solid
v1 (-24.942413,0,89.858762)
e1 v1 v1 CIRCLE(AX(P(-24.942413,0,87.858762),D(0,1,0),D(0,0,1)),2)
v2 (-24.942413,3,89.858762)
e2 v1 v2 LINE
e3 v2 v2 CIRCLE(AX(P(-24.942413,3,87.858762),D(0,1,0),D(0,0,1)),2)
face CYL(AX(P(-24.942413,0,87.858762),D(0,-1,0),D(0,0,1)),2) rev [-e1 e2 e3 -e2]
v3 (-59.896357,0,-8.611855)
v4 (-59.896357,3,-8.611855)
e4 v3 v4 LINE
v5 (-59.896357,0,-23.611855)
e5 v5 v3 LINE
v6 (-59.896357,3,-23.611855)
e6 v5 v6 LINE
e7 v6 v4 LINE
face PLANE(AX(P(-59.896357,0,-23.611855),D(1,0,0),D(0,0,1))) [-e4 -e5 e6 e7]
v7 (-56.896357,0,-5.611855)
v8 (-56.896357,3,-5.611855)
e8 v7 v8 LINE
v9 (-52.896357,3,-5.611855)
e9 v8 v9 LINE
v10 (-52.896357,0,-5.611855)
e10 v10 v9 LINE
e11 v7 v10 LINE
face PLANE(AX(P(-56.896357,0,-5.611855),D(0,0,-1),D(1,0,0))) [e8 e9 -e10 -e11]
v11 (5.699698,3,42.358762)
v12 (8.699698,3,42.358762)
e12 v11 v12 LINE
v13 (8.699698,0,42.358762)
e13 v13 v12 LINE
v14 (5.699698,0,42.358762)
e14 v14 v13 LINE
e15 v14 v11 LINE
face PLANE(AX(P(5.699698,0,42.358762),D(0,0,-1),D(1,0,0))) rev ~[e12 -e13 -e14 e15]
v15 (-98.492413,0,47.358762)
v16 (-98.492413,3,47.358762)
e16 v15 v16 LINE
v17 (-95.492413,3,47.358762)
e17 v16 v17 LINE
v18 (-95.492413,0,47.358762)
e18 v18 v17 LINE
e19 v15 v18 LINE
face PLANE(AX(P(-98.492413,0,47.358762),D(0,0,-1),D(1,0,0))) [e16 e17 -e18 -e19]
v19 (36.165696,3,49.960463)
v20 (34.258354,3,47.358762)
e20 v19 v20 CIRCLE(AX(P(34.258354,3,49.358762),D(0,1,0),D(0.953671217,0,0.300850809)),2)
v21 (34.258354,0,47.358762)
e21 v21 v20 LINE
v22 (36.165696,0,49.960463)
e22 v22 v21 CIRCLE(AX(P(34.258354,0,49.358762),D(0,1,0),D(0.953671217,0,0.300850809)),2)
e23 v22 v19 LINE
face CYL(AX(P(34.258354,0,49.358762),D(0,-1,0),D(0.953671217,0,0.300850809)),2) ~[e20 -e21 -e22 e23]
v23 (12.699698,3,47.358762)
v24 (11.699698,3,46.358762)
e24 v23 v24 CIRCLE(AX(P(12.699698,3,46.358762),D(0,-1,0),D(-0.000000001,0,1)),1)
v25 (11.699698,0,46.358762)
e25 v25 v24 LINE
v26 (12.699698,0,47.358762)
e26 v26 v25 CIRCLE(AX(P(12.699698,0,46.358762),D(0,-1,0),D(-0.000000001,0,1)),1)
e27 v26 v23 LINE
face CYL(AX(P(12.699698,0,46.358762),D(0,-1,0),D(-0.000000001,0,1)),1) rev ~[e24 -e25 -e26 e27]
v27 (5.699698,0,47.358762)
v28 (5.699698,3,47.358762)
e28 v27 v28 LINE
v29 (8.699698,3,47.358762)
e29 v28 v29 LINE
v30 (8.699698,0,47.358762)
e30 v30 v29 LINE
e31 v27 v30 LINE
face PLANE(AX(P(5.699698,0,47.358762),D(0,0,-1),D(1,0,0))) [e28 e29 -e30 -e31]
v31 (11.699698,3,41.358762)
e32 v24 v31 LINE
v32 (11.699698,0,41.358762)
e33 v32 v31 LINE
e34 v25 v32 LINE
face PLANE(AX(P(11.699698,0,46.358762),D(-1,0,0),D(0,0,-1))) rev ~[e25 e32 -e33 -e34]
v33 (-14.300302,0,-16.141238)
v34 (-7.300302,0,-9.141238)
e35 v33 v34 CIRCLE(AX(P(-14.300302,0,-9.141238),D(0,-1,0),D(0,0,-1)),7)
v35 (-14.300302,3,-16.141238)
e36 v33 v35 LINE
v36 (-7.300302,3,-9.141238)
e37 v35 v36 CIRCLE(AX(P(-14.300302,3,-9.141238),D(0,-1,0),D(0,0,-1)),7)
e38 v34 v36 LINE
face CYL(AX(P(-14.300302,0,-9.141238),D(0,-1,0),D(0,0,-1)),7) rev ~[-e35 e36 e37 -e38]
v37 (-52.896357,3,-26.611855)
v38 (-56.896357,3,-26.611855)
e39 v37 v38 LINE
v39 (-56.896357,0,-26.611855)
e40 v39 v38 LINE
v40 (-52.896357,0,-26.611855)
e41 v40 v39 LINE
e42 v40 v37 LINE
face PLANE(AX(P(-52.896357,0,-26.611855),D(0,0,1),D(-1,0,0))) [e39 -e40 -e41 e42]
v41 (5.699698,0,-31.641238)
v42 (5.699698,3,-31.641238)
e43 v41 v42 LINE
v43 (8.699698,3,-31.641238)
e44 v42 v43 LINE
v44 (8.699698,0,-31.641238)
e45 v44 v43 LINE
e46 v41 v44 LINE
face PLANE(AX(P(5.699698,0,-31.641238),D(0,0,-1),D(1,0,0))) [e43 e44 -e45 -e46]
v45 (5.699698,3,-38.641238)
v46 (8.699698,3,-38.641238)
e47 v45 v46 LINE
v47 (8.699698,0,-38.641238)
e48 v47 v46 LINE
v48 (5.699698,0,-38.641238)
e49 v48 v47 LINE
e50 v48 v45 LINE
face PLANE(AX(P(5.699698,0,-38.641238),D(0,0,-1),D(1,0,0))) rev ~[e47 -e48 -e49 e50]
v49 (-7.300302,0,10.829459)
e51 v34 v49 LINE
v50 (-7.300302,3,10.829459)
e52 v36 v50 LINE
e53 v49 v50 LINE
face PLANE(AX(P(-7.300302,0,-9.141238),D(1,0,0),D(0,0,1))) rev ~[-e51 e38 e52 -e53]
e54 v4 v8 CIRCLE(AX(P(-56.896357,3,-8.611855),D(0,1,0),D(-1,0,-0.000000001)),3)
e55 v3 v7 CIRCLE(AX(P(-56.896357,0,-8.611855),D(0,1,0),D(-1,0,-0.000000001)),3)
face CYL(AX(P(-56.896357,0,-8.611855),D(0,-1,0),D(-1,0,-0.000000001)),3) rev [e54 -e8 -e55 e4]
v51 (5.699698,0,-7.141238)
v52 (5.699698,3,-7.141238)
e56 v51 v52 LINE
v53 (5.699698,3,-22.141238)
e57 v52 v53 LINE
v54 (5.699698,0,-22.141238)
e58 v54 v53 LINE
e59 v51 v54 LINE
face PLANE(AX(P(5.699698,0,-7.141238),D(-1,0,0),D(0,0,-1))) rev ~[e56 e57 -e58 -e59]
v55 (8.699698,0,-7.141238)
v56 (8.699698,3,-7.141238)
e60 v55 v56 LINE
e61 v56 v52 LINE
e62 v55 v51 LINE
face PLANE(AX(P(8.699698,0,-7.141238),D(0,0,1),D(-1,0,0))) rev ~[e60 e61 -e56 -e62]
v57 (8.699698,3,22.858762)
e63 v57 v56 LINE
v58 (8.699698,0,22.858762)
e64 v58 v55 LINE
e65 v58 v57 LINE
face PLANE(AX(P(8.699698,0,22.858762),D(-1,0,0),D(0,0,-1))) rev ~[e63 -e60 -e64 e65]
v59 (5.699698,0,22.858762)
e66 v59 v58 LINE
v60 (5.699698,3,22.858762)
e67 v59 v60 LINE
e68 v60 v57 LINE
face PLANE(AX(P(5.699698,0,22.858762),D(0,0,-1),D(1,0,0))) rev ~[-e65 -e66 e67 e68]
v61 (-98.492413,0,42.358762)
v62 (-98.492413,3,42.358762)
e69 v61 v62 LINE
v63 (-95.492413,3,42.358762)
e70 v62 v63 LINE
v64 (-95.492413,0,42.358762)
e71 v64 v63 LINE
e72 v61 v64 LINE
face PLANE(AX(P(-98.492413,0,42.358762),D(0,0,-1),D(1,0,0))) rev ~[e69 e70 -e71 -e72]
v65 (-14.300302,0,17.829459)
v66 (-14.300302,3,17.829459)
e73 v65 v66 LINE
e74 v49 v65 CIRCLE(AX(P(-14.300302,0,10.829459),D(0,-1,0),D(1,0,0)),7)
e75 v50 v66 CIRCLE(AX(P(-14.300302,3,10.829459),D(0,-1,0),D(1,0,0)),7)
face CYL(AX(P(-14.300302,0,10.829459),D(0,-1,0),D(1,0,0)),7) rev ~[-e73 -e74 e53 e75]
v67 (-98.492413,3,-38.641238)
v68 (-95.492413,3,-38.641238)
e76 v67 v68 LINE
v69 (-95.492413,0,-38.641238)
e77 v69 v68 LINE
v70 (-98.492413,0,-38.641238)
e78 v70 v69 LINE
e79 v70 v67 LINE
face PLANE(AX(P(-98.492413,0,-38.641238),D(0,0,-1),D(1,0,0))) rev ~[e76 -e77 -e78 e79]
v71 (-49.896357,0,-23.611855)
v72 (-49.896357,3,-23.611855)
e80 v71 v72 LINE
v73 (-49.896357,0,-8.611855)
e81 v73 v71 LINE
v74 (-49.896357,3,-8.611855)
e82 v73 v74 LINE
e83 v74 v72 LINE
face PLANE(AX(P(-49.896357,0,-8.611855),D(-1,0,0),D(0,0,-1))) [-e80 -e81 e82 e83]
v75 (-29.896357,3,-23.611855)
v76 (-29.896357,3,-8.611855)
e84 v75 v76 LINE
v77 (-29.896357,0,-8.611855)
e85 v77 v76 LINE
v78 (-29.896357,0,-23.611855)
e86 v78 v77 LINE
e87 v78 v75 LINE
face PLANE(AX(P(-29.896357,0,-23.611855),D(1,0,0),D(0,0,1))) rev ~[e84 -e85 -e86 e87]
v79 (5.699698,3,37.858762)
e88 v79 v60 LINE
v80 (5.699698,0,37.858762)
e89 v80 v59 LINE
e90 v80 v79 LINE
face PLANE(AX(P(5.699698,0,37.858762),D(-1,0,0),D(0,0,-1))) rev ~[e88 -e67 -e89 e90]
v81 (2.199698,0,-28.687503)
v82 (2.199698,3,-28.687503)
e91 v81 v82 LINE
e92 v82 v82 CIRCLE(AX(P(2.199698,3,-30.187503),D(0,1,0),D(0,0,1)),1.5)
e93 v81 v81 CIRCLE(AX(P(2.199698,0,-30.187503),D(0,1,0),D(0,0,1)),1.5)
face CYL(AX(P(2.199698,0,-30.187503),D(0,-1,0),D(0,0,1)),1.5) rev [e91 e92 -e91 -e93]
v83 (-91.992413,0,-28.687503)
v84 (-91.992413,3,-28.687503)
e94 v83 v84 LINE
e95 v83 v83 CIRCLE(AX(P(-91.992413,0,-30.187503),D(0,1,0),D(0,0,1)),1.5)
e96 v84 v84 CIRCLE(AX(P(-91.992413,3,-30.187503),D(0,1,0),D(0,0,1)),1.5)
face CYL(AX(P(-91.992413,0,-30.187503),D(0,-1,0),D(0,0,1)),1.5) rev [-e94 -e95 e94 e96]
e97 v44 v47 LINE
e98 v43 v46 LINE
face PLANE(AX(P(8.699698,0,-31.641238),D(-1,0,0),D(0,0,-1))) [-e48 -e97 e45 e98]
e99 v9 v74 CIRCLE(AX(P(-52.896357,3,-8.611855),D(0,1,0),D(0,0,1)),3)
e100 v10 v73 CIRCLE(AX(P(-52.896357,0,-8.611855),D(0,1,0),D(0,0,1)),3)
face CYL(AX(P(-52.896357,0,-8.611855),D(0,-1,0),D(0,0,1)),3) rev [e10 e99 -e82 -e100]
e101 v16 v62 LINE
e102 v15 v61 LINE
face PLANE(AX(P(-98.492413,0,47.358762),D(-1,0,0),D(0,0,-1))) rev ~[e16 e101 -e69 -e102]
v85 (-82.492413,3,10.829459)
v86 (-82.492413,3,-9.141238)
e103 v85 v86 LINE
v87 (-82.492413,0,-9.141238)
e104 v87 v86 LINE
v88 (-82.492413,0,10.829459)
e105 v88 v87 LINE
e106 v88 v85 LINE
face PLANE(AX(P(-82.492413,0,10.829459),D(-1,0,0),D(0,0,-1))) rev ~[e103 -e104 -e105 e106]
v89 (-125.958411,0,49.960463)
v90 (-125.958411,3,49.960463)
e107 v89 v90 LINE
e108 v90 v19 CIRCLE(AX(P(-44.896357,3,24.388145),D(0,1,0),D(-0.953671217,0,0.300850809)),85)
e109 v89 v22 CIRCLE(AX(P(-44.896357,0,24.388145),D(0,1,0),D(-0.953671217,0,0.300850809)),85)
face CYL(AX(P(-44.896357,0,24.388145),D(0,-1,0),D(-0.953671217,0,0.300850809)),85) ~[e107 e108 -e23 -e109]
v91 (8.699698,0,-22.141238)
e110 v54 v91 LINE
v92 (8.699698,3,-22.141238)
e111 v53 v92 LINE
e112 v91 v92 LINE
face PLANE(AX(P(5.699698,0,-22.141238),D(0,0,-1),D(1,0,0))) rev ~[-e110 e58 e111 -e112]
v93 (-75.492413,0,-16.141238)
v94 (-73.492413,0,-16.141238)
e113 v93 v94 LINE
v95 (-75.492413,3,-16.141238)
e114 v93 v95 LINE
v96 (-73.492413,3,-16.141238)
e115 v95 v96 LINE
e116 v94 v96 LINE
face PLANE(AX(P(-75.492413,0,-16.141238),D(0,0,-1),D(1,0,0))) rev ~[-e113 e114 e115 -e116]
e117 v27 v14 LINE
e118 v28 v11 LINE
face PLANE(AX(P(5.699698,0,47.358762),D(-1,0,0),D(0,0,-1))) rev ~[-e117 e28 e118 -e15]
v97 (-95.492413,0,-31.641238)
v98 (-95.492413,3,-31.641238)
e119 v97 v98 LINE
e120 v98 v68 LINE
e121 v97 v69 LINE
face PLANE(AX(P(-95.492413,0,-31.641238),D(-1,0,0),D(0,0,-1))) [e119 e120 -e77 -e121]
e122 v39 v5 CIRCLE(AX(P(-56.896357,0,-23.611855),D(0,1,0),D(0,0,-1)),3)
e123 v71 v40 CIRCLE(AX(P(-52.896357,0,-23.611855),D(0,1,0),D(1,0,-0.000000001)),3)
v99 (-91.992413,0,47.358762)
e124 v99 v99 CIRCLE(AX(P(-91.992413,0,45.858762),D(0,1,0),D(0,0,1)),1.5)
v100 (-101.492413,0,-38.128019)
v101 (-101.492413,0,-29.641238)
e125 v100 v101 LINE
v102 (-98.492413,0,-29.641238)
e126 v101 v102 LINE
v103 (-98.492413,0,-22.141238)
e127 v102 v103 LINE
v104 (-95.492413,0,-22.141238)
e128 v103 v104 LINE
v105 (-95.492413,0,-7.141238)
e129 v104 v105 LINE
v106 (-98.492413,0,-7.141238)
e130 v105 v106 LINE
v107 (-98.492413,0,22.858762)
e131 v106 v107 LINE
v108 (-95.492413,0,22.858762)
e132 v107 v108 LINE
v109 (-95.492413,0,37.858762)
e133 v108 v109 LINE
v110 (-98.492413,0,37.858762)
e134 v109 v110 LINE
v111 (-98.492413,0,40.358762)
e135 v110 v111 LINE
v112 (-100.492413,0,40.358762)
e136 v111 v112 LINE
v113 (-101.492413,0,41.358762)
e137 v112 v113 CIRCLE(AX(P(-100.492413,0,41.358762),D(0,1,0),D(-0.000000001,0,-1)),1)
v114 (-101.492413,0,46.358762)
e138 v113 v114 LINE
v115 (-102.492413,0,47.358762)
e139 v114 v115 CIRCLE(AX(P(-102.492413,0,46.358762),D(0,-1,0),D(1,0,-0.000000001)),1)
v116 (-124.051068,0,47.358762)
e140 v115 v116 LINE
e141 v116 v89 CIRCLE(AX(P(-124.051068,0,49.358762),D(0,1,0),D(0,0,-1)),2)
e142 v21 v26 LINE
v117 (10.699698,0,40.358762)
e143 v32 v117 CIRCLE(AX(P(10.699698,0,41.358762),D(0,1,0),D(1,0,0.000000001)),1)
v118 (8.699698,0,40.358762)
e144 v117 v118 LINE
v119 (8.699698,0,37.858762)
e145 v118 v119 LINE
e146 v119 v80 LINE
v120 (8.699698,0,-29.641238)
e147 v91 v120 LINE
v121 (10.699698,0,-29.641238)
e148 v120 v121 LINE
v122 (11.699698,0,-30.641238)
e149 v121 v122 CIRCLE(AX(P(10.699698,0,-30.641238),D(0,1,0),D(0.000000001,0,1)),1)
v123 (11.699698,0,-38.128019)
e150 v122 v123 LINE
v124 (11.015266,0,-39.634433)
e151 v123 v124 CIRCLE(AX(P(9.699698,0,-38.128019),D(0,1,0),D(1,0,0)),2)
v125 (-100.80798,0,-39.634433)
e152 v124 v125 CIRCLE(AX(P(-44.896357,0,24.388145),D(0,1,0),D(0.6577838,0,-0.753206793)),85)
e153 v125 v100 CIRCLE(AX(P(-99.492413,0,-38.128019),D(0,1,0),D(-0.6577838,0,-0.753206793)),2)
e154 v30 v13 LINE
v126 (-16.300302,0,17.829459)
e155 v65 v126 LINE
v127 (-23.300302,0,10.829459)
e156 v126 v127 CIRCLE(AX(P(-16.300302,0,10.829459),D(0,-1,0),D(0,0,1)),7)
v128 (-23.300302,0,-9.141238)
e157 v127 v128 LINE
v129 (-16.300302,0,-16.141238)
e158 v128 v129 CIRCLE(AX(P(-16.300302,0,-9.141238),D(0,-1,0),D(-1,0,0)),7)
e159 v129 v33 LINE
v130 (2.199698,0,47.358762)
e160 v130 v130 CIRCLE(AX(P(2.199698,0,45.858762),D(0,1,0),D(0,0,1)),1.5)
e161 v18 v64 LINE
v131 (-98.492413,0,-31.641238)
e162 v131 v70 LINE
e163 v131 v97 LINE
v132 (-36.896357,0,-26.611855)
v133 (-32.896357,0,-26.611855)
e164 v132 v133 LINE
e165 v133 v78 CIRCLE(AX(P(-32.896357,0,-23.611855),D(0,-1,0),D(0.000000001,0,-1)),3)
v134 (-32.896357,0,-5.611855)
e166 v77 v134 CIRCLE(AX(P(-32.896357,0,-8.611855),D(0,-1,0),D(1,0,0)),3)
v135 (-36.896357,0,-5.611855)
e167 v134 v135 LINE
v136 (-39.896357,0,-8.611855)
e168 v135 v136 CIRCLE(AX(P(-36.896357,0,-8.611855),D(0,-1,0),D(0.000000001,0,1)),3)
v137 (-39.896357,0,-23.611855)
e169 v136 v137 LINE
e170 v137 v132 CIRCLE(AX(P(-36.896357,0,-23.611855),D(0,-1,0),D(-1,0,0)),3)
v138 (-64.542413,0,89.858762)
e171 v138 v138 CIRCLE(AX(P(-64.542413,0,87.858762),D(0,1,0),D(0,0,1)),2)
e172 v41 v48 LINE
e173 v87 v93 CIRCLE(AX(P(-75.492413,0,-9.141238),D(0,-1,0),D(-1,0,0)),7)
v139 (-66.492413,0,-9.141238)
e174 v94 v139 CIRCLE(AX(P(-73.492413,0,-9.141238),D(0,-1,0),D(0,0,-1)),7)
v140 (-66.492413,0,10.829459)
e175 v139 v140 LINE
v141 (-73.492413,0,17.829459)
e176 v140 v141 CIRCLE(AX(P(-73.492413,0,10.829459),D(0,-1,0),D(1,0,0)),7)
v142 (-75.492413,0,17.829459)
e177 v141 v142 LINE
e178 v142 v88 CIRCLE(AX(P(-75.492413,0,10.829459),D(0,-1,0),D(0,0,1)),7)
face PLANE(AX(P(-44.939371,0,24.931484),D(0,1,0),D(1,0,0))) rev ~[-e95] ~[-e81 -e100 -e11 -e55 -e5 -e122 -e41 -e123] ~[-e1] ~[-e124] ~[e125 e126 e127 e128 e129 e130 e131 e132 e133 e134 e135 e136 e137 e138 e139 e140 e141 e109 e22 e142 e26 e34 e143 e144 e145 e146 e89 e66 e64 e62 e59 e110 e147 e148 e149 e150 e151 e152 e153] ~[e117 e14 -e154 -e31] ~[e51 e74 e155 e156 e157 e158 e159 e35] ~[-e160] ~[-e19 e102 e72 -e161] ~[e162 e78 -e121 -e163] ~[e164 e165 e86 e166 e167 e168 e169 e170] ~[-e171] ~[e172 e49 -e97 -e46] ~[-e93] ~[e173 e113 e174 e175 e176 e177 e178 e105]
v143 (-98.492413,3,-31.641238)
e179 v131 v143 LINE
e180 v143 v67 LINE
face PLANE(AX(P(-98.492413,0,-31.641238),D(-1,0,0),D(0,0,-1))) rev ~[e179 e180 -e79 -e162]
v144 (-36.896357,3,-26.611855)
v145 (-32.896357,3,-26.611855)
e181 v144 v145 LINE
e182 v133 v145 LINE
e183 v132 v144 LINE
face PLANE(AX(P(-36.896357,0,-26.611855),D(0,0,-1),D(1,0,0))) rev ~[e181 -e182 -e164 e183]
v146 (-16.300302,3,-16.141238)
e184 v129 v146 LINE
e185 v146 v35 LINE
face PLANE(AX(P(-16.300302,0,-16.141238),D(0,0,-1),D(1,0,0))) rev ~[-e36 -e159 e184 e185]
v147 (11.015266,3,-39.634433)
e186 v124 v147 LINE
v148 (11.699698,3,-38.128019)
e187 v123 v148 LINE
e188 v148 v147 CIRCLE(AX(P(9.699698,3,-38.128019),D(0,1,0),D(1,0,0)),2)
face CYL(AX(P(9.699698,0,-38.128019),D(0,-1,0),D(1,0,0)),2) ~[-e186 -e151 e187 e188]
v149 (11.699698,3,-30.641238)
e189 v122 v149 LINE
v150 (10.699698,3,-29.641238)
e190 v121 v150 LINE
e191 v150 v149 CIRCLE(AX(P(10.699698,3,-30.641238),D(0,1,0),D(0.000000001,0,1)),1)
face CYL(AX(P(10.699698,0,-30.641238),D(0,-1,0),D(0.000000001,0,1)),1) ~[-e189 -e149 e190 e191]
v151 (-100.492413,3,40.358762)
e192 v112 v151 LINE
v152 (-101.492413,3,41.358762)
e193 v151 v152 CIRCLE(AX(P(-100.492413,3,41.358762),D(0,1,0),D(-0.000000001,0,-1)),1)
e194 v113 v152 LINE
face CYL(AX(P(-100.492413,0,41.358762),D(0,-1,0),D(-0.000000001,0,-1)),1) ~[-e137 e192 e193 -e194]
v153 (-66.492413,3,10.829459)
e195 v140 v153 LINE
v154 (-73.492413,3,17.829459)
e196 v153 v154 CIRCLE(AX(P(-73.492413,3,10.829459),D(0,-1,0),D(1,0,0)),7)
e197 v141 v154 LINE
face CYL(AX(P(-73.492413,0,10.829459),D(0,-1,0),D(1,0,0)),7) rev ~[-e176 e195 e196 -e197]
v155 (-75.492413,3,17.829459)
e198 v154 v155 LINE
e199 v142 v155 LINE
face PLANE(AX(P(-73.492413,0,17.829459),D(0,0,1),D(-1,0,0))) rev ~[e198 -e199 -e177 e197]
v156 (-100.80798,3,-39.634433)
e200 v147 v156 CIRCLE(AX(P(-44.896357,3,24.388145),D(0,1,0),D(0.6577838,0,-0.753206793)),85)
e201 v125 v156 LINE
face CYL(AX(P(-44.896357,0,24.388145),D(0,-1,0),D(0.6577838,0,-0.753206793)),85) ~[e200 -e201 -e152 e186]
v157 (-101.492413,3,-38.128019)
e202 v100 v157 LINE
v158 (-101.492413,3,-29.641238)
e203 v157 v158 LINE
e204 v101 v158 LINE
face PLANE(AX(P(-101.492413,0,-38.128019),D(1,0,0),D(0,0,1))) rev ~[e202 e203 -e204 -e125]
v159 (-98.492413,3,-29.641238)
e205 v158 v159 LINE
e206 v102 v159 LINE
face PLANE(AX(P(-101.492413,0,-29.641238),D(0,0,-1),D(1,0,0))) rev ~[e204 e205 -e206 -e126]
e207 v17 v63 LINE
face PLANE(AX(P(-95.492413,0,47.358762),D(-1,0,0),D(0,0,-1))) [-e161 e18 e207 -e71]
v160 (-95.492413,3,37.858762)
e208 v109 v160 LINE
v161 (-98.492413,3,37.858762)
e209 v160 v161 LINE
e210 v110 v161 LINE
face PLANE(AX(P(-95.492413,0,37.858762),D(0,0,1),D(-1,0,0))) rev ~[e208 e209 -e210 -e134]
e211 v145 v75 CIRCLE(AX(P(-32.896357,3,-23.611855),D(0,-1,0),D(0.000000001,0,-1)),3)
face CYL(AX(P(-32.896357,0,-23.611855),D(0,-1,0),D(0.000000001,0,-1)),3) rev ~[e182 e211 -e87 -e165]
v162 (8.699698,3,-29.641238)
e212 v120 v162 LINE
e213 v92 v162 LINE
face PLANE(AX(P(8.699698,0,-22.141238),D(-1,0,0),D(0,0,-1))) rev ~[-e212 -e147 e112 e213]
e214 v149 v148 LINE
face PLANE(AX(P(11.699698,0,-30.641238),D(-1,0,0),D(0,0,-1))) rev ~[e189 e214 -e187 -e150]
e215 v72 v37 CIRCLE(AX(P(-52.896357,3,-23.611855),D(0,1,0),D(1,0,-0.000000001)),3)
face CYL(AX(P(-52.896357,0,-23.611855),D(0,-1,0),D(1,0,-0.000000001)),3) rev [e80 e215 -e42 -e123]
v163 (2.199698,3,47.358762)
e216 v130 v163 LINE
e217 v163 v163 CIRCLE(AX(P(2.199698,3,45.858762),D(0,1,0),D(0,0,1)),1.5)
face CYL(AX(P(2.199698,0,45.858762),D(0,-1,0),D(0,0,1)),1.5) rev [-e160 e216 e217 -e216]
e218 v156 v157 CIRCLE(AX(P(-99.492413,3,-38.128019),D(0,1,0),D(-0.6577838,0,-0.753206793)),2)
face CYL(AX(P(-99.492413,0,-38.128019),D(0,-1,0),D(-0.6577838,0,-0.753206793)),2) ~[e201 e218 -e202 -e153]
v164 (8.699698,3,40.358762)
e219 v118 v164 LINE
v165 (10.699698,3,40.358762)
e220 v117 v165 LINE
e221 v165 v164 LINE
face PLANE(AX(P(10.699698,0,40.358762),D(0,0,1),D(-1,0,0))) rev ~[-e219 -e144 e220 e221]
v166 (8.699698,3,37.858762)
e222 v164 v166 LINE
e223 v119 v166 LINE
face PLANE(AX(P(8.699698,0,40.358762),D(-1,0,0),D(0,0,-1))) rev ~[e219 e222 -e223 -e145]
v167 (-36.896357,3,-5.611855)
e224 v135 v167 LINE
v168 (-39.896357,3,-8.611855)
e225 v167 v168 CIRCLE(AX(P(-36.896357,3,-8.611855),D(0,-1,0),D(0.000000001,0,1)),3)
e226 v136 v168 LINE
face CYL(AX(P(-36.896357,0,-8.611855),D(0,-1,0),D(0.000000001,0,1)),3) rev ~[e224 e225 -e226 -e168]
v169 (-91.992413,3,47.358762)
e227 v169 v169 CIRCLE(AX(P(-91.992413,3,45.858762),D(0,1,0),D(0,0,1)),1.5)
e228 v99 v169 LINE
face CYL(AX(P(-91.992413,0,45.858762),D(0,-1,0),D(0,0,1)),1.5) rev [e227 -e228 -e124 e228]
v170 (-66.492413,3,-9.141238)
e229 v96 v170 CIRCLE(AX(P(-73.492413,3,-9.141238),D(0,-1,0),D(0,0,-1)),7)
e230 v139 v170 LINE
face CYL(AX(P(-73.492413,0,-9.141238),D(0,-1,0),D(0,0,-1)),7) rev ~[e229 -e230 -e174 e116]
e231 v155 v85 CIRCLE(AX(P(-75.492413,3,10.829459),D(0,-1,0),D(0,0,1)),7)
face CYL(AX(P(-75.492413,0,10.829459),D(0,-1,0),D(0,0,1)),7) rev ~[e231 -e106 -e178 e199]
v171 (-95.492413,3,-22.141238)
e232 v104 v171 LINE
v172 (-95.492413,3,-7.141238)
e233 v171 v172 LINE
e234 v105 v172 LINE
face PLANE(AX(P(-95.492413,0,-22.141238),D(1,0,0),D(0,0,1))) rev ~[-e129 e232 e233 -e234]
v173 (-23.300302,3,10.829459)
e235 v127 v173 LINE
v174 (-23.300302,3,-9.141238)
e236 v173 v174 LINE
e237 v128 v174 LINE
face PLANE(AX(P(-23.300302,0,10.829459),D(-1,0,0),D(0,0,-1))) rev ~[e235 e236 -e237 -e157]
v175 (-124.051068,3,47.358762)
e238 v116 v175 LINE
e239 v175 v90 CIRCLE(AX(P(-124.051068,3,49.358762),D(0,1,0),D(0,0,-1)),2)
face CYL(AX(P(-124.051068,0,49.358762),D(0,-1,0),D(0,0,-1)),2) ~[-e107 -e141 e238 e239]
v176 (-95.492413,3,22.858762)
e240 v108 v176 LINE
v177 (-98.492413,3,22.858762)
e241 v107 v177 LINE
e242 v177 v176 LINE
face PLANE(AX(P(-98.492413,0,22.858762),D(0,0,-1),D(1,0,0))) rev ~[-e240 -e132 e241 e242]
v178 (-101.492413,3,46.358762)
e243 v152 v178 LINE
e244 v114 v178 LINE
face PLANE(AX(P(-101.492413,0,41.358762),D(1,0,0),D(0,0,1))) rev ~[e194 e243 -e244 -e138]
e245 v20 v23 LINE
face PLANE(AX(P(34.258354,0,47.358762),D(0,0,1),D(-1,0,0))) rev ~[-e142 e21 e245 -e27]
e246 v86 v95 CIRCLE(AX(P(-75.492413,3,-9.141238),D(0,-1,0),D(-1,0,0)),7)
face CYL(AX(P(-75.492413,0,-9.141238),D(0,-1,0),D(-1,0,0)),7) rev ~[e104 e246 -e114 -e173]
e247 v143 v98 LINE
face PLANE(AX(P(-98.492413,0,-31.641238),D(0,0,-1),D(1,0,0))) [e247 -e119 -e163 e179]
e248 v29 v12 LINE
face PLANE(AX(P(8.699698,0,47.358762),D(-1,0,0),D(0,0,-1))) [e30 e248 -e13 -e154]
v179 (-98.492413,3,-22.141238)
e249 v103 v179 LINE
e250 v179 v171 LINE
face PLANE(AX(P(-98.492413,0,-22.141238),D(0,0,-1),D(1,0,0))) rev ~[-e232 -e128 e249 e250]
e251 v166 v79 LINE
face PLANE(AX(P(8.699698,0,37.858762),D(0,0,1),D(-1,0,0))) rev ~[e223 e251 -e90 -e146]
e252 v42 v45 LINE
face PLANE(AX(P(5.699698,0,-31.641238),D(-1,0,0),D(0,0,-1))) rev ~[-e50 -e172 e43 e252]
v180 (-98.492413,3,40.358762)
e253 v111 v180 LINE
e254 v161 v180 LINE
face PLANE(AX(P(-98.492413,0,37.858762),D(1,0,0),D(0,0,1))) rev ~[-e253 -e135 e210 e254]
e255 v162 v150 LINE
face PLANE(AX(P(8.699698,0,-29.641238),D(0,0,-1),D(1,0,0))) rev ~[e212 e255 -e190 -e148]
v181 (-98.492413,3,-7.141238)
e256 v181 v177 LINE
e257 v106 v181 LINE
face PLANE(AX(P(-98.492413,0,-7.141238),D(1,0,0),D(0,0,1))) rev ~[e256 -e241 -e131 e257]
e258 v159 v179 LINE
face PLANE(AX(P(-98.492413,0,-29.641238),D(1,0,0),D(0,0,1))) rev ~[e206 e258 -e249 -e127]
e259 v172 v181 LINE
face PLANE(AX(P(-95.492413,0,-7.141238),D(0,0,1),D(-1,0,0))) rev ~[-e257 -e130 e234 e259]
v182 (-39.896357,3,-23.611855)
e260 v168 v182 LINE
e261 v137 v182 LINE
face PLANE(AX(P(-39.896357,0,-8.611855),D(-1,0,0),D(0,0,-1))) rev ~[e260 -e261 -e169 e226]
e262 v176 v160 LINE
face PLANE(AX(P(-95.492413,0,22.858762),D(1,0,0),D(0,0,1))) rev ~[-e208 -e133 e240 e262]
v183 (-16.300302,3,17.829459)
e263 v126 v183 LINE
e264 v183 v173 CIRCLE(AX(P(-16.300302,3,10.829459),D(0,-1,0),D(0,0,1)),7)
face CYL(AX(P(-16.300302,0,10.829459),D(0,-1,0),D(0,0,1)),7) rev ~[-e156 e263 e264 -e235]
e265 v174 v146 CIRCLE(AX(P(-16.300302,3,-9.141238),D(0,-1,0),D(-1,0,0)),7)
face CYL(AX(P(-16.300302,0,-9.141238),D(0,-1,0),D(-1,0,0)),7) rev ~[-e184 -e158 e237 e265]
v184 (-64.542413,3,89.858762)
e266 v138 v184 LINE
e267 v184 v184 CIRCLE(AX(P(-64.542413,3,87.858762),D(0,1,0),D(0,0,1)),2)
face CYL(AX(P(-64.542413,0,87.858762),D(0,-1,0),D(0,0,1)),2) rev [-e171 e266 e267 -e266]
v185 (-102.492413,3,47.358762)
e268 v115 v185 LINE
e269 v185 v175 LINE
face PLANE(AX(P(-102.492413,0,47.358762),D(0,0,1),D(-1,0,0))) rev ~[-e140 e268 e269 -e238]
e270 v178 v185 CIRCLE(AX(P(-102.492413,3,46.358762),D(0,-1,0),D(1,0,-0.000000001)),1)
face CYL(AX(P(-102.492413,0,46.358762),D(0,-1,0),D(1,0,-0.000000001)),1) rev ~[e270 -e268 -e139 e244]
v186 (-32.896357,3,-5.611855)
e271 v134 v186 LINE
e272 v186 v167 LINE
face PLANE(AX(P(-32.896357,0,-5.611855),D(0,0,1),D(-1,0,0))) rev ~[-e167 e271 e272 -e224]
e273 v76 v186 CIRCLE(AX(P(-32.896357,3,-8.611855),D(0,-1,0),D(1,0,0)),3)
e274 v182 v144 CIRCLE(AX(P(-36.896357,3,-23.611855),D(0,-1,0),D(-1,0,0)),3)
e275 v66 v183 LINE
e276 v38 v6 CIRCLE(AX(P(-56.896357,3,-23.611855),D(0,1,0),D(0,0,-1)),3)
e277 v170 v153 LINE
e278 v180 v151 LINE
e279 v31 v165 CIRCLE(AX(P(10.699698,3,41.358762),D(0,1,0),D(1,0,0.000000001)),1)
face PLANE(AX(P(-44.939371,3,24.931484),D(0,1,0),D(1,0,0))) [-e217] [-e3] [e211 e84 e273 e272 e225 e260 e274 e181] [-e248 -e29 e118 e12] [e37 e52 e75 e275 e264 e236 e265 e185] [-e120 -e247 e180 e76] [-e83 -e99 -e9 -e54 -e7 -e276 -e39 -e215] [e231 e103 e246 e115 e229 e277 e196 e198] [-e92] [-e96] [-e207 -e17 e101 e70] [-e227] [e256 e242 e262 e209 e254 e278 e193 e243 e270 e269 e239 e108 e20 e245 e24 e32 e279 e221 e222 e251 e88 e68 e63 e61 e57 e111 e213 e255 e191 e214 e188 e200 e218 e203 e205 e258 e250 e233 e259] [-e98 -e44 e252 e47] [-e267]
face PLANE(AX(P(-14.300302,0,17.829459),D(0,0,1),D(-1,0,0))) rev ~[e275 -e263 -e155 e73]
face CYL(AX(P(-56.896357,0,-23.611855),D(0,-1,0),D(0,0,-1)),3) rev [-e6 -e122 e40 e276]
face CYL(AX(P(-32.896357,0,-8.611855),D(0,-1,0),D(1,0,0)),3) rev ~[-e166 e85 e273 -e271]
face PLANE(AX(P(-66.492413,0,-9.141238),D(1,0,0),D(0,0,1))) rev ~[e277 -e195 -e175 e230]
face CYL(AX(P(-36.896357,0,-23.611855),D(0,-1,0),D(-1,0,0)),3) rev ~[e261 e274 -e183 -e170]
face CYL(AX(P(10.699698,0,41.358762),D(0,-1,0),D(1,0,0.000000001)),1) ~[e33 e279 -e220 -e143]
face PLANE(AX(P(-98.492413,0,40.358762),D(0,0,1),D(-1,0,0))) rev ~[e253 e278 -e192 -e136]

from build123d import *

# Parameters (mm, degrees)
SKETCH1_R           = 1.5
SKETCH1_R_2         = 2
SKETCH1_W           = 3
SKETCH1_H           = 5
SKETCH1_H_2         = 7
BOSS_EXTRUDE1_DEPTH = 3


with BuildPart() as part:
    # Sketch1 → Boss-Extrude1 (new body)
    with BuildSketch(Plane(origin=(0, 0, 0), x_dir=(1, 0, 0), z_dir=(0, 1, 0))):
        with BuildLine():
            Line((11.699698215, 30.641238244), (11.699698215, 38.128019164))
            ThreePointArc((11.699698215, 38.128019164), (11.520568227, 38.955323461), (11.015265815, 39.634432749))
            ThreePointArc((11.015265815, 39.634432749), (-44.896357171, 60.611855364), (-100.807980157, 39.634432749))
            ThreePointArc((-100.807980157, 39.634432749), (-101.313282569, 38.955323461), (-101.492412558, 38.128019164))
            Line((-101.492412558, 38.128019164), (-101.492412558, 29.641238244))
            Line((-101.492412558, 29.641238244), (-98.492412558, 29.641238244))
            Line((-98.492412558, 29.641238244), (-98.492412558, 22.141238244))
            Line((-98.492412558, 22.141238244), (-95.492412558, 22.141238244))
            Line((-95.492412558, 22.141238244), (-95.492412558, 7.141238244))
            Line((-95.492412558, 7.141238244), (-98.492412558, 7.141238244))
            Line((-98.492412558, 7.141238244), (-98.492412558, -22.858761756))
            Line((-98.492412558, -22.858761756), (-95.492412558, -22.858761756))
            Line((-95.492412558, -22.858761756), (-95.492412558, -37.858761756))
            Line((-95.492412558, -37.858761756), (-98.492412558, -37.858761756))
            Line((-98.492412558, -37.858761756), (-98.492412558, -40.358761756))
            Line((-98.492412558, -40.358761756), (-100.492412558, -40.358761756))
            ThreePointArc((-100.492412558, -40.358761756), (-101.199519339, -40.651654975), (-101.492412558, -41.358761756))
            Line((-101.492412558, -41.358761756), (-101.492412558, -46.358761756))
            ThreePointArc((-101.492412558, -46.358761756), (-101.785305776, -47.065868537), (-102.492412558, -47.358761756))
            Line((-102.492412558, -47.358761756), (-124.051068216, -47.358761756))
            ThreePointArc((-124.051068216, -47.358761756), (-125.664047329, -48.176265083), (-125.958410651, -49.960463374))
            ThreePointArc((-125.958410651, -49.960463374), (-44.896357171, -109.388144636), (36.165696309, -49.960463373))
            ThreePointArc((36.165696309, -49.960463373), (35.871332987, -48.176265083), (34.258353874, -47.358761756))
            Line((34.258353874, -47.358761756), (12.699698215, -47.358761756))
            ThreePointArc((12.699698215, -47.358761756), (11.992591434, -47.065868537), (11.699698215, -46.358761756))
            Line((11.699698215, -46.358761756), (11.699698215, -41.358761756))
            ThreePointArc((11.699698215, -41.358761756), (11.406804997, -40.651654975), (10.699698215, -40.358761756))
            Line((10.699698215, -40.358761756), (8.699698215, -40.358761756))
            Line((8.699698215, -40.358761756), (8.699698215, -37.858761756))
            Line((8.699698215, -37.858761756), (5.699698215, -37.858761756))
            Line((5.699698215, -37.858761756), (5.699698215, -22.858761756))
            Line((5.699698215, -22.858761756), (8.699698215, -22.858761756))
            Line((8.699698215, -22.858761756), (8.699698215, 7.141238244))
            Line((8.699698215, 7.141238244), (5.699698215, 7.141238244))
            Line((5.699698215, 7.141238244), (5.699698215, 22.141238244))
            Line((5.699698215, 22.141238244), (8.699698215, 22.141238244))
            Line((8.699698215, 22.141238244), (8.699698215, 29.641238244))
            Line((8.699698215, 29.641238244), (10.699698215, 29.641238244))
            ThreePointArc((10.699698215, 29.641238244), (11.406804996, 29.934131463), (11.699698215, 30.641238244))
        make_face()
        with Locations(Location((2.199698215, 30.187503495, 0), (0, 0, 270))):
            Circle(SKETCH1_R, mode=Mode.SUBTRACT)
        with Locations(Location((2.199698215, -45.858761756, 0), (0, 0, 270))):
            Circle(SKETCH1_R, mode=Mode.SUBTRACT)
        with Locations(Location((-91.992412558, -45.858761756, 0), (0, 0, 270))):
            Circle(SKETCH1_R, mode=Mode.SUBTRACT)
        with Locations(Location((-91.992412558, 30.187503495, 0), (0, 0, 270))):
            Circle(SKETCH1_R, mode=Mode.SUBTRACT)
        with Locations(Location((-24.942412558, -87.858761756, 0), (0, 0, 270))):
            Circle(SKETCH1_R_2, mode=Mode.SUBTRACT)
        with Locations(Location((-64.542412558, -87.858761756, 0), (0, 0, 270))):
            Circle(SKETCH1_R_2, mode=Mode.SUBTRACT)
        with Locations((-96.992412558, -44.858761756)):
            Rectangle(SKETCH1_W, SKETCH1_H, mode=Mode.SUBTRACT)
        with Locations((7.199698215, 35.141238244)):
            Rectangle(SKETCH1_W, SKETCH1_H_2, mode=Mode.SUBTRACT)
        with Locations((7.199698215, -44.858761756)):
            Rectangle(SKETCH1_W, SKETCH1_H, mode=Mode.SUBTRACT)
        with BuildLine():
            Line((-75.492412558, 16.141238244), (-73.492412558, 16.141238244))
            ThreePointArc((-73.492412558, 16.141238244), (-68.542665089, 14.090985712), (-66.492412558, 9.141238244))
            Line((-66.492412558, 9.141238244), (-66.492412558, -10.829459129))
            ThreePointArc((-66.492412558, -10.829459129), (-68.542665089, -15.779206597), (-73.492412558, -17.829459129))
            Line((-73.492412558, -17.829459129), (-75.492412558, -17.829459129))
            ThreePointArc((-75.492412558, -17.829459129), (-80.442160026, -15.779206597), (-82.492412558, -10.829459129))
            Line((-82.492412558, -10.829459129), (-82.492412558, 9.141238244))
            ThreePointArc((-82.492412558, 9.141238244), (-80.442160026, 14.090985712), (-75.492412558, 16.141238244))
        make_face(mode=Mode.SUBTRACT)
        with Locations((-96.992412558, 35.141238244)):
            Rectangle(SKETCH1_W, SKETCH1_H_2, mode=Mode.SUBTRACT)
        with BuildLine():
            Line((-29.896357171, 23.611855364), (-29.896357171, 8.611855364))
            ThreePointArc((-29.896357171, 8.611855364), (-30.775036828, 6.49053502), (-32.896357171, 5.611855364))
            Line((-32.896357171, 5.611855364), (-36.896357171, 5.611855364))
            ThreePointArc((-36.896357171, 5.611855364), (-39.017677515, 6.49053502), (-39.896357171, 8.611855364))
            Line((-39.896357171, 8.611855364), (-39.896357171, 23.611855364))
            ThreePointArc((-39.896357171, 23.611855364), (-39.017677515, 25.733175707), (-36.896357171, 26.611855364))
            Line((-36.896357171, 26.611855364), (-32.896357171, 26.611855364))
            ThreePointArc((-32.896357171, 26.611855364), (-30.775036828, 25.733175707), (-29.896357171, 23.611855364))
        make_face(mode=Mode.SUBTRACT)
        with BuildLine():
            Line((-56.896357171, 5.611855364), (-52.896357171, 5.611855364))
            ThreePointArc((-52.896357171, 5.611855364), (-50.775036828, 6.49053502), (-49.896357171, 8.611855364))
            Line((-49.896357171, 8.611855364), (-49.896357171, 23.611855364))
            ThreePointArc((-49.896357171, 23.611855364), (-50.775036828, 25.733175707), (-52.896357171, 26.611855364))
            Line((-52.896357171, 26.611855364), (-56.896357171, 26.611855364))
            ThreePointArc((-56.896357171, 26.611855364), (-59.017677515, 25.733175707), (-59.896357171, 23.611855364))
            Line((-59.896357171, 23.611855364), (-59.896357171, 8.611855364))
            ThreePointArc((-59.896357171, 8.611855364), (-59.017677515, 6.49053502), (-56.896357171, 5.611855364))
        make_face(mode=Mode.SUBTRACT)
        with BuildLine():
            Line((-7.300301785, 9.141238244), (-7.300301785, -10.829459129))
            ThreePointArc((-7.300301785, -10.829459129), (-9.350554316, -15.779206597), (-14.300301785, -17.829459129))
            Line((-14.300301785, -17.829459129), (-16.300301785, -17.829459129))
            ThreePointArc((-16.300301785, -17.829459129), (-21.250049253, -15.779206597), (-23.300301785, -10.829459129))
            Line((-23.300301785, -10.829459129), (-23.300301785, 9.141238244))
            ThreePointArc((-23.300301785, 9.141238244), (-21.250049253, 14.090985712), (-16.300301785, 16.141238244))
            Line((-16.300301785, 16.141238244), (-14.300301785, 16.141238244))
            ThreePointArc((-14.300301785, 16.141238244), (-9.350554316, 14.090985712), (-7.300301785, 9.141238244))
        make_face(mode=Mode.SUBTRACT)
    extrude(amount=BOSS_EXTRUDE1_DEPTH)


solid = part.part
